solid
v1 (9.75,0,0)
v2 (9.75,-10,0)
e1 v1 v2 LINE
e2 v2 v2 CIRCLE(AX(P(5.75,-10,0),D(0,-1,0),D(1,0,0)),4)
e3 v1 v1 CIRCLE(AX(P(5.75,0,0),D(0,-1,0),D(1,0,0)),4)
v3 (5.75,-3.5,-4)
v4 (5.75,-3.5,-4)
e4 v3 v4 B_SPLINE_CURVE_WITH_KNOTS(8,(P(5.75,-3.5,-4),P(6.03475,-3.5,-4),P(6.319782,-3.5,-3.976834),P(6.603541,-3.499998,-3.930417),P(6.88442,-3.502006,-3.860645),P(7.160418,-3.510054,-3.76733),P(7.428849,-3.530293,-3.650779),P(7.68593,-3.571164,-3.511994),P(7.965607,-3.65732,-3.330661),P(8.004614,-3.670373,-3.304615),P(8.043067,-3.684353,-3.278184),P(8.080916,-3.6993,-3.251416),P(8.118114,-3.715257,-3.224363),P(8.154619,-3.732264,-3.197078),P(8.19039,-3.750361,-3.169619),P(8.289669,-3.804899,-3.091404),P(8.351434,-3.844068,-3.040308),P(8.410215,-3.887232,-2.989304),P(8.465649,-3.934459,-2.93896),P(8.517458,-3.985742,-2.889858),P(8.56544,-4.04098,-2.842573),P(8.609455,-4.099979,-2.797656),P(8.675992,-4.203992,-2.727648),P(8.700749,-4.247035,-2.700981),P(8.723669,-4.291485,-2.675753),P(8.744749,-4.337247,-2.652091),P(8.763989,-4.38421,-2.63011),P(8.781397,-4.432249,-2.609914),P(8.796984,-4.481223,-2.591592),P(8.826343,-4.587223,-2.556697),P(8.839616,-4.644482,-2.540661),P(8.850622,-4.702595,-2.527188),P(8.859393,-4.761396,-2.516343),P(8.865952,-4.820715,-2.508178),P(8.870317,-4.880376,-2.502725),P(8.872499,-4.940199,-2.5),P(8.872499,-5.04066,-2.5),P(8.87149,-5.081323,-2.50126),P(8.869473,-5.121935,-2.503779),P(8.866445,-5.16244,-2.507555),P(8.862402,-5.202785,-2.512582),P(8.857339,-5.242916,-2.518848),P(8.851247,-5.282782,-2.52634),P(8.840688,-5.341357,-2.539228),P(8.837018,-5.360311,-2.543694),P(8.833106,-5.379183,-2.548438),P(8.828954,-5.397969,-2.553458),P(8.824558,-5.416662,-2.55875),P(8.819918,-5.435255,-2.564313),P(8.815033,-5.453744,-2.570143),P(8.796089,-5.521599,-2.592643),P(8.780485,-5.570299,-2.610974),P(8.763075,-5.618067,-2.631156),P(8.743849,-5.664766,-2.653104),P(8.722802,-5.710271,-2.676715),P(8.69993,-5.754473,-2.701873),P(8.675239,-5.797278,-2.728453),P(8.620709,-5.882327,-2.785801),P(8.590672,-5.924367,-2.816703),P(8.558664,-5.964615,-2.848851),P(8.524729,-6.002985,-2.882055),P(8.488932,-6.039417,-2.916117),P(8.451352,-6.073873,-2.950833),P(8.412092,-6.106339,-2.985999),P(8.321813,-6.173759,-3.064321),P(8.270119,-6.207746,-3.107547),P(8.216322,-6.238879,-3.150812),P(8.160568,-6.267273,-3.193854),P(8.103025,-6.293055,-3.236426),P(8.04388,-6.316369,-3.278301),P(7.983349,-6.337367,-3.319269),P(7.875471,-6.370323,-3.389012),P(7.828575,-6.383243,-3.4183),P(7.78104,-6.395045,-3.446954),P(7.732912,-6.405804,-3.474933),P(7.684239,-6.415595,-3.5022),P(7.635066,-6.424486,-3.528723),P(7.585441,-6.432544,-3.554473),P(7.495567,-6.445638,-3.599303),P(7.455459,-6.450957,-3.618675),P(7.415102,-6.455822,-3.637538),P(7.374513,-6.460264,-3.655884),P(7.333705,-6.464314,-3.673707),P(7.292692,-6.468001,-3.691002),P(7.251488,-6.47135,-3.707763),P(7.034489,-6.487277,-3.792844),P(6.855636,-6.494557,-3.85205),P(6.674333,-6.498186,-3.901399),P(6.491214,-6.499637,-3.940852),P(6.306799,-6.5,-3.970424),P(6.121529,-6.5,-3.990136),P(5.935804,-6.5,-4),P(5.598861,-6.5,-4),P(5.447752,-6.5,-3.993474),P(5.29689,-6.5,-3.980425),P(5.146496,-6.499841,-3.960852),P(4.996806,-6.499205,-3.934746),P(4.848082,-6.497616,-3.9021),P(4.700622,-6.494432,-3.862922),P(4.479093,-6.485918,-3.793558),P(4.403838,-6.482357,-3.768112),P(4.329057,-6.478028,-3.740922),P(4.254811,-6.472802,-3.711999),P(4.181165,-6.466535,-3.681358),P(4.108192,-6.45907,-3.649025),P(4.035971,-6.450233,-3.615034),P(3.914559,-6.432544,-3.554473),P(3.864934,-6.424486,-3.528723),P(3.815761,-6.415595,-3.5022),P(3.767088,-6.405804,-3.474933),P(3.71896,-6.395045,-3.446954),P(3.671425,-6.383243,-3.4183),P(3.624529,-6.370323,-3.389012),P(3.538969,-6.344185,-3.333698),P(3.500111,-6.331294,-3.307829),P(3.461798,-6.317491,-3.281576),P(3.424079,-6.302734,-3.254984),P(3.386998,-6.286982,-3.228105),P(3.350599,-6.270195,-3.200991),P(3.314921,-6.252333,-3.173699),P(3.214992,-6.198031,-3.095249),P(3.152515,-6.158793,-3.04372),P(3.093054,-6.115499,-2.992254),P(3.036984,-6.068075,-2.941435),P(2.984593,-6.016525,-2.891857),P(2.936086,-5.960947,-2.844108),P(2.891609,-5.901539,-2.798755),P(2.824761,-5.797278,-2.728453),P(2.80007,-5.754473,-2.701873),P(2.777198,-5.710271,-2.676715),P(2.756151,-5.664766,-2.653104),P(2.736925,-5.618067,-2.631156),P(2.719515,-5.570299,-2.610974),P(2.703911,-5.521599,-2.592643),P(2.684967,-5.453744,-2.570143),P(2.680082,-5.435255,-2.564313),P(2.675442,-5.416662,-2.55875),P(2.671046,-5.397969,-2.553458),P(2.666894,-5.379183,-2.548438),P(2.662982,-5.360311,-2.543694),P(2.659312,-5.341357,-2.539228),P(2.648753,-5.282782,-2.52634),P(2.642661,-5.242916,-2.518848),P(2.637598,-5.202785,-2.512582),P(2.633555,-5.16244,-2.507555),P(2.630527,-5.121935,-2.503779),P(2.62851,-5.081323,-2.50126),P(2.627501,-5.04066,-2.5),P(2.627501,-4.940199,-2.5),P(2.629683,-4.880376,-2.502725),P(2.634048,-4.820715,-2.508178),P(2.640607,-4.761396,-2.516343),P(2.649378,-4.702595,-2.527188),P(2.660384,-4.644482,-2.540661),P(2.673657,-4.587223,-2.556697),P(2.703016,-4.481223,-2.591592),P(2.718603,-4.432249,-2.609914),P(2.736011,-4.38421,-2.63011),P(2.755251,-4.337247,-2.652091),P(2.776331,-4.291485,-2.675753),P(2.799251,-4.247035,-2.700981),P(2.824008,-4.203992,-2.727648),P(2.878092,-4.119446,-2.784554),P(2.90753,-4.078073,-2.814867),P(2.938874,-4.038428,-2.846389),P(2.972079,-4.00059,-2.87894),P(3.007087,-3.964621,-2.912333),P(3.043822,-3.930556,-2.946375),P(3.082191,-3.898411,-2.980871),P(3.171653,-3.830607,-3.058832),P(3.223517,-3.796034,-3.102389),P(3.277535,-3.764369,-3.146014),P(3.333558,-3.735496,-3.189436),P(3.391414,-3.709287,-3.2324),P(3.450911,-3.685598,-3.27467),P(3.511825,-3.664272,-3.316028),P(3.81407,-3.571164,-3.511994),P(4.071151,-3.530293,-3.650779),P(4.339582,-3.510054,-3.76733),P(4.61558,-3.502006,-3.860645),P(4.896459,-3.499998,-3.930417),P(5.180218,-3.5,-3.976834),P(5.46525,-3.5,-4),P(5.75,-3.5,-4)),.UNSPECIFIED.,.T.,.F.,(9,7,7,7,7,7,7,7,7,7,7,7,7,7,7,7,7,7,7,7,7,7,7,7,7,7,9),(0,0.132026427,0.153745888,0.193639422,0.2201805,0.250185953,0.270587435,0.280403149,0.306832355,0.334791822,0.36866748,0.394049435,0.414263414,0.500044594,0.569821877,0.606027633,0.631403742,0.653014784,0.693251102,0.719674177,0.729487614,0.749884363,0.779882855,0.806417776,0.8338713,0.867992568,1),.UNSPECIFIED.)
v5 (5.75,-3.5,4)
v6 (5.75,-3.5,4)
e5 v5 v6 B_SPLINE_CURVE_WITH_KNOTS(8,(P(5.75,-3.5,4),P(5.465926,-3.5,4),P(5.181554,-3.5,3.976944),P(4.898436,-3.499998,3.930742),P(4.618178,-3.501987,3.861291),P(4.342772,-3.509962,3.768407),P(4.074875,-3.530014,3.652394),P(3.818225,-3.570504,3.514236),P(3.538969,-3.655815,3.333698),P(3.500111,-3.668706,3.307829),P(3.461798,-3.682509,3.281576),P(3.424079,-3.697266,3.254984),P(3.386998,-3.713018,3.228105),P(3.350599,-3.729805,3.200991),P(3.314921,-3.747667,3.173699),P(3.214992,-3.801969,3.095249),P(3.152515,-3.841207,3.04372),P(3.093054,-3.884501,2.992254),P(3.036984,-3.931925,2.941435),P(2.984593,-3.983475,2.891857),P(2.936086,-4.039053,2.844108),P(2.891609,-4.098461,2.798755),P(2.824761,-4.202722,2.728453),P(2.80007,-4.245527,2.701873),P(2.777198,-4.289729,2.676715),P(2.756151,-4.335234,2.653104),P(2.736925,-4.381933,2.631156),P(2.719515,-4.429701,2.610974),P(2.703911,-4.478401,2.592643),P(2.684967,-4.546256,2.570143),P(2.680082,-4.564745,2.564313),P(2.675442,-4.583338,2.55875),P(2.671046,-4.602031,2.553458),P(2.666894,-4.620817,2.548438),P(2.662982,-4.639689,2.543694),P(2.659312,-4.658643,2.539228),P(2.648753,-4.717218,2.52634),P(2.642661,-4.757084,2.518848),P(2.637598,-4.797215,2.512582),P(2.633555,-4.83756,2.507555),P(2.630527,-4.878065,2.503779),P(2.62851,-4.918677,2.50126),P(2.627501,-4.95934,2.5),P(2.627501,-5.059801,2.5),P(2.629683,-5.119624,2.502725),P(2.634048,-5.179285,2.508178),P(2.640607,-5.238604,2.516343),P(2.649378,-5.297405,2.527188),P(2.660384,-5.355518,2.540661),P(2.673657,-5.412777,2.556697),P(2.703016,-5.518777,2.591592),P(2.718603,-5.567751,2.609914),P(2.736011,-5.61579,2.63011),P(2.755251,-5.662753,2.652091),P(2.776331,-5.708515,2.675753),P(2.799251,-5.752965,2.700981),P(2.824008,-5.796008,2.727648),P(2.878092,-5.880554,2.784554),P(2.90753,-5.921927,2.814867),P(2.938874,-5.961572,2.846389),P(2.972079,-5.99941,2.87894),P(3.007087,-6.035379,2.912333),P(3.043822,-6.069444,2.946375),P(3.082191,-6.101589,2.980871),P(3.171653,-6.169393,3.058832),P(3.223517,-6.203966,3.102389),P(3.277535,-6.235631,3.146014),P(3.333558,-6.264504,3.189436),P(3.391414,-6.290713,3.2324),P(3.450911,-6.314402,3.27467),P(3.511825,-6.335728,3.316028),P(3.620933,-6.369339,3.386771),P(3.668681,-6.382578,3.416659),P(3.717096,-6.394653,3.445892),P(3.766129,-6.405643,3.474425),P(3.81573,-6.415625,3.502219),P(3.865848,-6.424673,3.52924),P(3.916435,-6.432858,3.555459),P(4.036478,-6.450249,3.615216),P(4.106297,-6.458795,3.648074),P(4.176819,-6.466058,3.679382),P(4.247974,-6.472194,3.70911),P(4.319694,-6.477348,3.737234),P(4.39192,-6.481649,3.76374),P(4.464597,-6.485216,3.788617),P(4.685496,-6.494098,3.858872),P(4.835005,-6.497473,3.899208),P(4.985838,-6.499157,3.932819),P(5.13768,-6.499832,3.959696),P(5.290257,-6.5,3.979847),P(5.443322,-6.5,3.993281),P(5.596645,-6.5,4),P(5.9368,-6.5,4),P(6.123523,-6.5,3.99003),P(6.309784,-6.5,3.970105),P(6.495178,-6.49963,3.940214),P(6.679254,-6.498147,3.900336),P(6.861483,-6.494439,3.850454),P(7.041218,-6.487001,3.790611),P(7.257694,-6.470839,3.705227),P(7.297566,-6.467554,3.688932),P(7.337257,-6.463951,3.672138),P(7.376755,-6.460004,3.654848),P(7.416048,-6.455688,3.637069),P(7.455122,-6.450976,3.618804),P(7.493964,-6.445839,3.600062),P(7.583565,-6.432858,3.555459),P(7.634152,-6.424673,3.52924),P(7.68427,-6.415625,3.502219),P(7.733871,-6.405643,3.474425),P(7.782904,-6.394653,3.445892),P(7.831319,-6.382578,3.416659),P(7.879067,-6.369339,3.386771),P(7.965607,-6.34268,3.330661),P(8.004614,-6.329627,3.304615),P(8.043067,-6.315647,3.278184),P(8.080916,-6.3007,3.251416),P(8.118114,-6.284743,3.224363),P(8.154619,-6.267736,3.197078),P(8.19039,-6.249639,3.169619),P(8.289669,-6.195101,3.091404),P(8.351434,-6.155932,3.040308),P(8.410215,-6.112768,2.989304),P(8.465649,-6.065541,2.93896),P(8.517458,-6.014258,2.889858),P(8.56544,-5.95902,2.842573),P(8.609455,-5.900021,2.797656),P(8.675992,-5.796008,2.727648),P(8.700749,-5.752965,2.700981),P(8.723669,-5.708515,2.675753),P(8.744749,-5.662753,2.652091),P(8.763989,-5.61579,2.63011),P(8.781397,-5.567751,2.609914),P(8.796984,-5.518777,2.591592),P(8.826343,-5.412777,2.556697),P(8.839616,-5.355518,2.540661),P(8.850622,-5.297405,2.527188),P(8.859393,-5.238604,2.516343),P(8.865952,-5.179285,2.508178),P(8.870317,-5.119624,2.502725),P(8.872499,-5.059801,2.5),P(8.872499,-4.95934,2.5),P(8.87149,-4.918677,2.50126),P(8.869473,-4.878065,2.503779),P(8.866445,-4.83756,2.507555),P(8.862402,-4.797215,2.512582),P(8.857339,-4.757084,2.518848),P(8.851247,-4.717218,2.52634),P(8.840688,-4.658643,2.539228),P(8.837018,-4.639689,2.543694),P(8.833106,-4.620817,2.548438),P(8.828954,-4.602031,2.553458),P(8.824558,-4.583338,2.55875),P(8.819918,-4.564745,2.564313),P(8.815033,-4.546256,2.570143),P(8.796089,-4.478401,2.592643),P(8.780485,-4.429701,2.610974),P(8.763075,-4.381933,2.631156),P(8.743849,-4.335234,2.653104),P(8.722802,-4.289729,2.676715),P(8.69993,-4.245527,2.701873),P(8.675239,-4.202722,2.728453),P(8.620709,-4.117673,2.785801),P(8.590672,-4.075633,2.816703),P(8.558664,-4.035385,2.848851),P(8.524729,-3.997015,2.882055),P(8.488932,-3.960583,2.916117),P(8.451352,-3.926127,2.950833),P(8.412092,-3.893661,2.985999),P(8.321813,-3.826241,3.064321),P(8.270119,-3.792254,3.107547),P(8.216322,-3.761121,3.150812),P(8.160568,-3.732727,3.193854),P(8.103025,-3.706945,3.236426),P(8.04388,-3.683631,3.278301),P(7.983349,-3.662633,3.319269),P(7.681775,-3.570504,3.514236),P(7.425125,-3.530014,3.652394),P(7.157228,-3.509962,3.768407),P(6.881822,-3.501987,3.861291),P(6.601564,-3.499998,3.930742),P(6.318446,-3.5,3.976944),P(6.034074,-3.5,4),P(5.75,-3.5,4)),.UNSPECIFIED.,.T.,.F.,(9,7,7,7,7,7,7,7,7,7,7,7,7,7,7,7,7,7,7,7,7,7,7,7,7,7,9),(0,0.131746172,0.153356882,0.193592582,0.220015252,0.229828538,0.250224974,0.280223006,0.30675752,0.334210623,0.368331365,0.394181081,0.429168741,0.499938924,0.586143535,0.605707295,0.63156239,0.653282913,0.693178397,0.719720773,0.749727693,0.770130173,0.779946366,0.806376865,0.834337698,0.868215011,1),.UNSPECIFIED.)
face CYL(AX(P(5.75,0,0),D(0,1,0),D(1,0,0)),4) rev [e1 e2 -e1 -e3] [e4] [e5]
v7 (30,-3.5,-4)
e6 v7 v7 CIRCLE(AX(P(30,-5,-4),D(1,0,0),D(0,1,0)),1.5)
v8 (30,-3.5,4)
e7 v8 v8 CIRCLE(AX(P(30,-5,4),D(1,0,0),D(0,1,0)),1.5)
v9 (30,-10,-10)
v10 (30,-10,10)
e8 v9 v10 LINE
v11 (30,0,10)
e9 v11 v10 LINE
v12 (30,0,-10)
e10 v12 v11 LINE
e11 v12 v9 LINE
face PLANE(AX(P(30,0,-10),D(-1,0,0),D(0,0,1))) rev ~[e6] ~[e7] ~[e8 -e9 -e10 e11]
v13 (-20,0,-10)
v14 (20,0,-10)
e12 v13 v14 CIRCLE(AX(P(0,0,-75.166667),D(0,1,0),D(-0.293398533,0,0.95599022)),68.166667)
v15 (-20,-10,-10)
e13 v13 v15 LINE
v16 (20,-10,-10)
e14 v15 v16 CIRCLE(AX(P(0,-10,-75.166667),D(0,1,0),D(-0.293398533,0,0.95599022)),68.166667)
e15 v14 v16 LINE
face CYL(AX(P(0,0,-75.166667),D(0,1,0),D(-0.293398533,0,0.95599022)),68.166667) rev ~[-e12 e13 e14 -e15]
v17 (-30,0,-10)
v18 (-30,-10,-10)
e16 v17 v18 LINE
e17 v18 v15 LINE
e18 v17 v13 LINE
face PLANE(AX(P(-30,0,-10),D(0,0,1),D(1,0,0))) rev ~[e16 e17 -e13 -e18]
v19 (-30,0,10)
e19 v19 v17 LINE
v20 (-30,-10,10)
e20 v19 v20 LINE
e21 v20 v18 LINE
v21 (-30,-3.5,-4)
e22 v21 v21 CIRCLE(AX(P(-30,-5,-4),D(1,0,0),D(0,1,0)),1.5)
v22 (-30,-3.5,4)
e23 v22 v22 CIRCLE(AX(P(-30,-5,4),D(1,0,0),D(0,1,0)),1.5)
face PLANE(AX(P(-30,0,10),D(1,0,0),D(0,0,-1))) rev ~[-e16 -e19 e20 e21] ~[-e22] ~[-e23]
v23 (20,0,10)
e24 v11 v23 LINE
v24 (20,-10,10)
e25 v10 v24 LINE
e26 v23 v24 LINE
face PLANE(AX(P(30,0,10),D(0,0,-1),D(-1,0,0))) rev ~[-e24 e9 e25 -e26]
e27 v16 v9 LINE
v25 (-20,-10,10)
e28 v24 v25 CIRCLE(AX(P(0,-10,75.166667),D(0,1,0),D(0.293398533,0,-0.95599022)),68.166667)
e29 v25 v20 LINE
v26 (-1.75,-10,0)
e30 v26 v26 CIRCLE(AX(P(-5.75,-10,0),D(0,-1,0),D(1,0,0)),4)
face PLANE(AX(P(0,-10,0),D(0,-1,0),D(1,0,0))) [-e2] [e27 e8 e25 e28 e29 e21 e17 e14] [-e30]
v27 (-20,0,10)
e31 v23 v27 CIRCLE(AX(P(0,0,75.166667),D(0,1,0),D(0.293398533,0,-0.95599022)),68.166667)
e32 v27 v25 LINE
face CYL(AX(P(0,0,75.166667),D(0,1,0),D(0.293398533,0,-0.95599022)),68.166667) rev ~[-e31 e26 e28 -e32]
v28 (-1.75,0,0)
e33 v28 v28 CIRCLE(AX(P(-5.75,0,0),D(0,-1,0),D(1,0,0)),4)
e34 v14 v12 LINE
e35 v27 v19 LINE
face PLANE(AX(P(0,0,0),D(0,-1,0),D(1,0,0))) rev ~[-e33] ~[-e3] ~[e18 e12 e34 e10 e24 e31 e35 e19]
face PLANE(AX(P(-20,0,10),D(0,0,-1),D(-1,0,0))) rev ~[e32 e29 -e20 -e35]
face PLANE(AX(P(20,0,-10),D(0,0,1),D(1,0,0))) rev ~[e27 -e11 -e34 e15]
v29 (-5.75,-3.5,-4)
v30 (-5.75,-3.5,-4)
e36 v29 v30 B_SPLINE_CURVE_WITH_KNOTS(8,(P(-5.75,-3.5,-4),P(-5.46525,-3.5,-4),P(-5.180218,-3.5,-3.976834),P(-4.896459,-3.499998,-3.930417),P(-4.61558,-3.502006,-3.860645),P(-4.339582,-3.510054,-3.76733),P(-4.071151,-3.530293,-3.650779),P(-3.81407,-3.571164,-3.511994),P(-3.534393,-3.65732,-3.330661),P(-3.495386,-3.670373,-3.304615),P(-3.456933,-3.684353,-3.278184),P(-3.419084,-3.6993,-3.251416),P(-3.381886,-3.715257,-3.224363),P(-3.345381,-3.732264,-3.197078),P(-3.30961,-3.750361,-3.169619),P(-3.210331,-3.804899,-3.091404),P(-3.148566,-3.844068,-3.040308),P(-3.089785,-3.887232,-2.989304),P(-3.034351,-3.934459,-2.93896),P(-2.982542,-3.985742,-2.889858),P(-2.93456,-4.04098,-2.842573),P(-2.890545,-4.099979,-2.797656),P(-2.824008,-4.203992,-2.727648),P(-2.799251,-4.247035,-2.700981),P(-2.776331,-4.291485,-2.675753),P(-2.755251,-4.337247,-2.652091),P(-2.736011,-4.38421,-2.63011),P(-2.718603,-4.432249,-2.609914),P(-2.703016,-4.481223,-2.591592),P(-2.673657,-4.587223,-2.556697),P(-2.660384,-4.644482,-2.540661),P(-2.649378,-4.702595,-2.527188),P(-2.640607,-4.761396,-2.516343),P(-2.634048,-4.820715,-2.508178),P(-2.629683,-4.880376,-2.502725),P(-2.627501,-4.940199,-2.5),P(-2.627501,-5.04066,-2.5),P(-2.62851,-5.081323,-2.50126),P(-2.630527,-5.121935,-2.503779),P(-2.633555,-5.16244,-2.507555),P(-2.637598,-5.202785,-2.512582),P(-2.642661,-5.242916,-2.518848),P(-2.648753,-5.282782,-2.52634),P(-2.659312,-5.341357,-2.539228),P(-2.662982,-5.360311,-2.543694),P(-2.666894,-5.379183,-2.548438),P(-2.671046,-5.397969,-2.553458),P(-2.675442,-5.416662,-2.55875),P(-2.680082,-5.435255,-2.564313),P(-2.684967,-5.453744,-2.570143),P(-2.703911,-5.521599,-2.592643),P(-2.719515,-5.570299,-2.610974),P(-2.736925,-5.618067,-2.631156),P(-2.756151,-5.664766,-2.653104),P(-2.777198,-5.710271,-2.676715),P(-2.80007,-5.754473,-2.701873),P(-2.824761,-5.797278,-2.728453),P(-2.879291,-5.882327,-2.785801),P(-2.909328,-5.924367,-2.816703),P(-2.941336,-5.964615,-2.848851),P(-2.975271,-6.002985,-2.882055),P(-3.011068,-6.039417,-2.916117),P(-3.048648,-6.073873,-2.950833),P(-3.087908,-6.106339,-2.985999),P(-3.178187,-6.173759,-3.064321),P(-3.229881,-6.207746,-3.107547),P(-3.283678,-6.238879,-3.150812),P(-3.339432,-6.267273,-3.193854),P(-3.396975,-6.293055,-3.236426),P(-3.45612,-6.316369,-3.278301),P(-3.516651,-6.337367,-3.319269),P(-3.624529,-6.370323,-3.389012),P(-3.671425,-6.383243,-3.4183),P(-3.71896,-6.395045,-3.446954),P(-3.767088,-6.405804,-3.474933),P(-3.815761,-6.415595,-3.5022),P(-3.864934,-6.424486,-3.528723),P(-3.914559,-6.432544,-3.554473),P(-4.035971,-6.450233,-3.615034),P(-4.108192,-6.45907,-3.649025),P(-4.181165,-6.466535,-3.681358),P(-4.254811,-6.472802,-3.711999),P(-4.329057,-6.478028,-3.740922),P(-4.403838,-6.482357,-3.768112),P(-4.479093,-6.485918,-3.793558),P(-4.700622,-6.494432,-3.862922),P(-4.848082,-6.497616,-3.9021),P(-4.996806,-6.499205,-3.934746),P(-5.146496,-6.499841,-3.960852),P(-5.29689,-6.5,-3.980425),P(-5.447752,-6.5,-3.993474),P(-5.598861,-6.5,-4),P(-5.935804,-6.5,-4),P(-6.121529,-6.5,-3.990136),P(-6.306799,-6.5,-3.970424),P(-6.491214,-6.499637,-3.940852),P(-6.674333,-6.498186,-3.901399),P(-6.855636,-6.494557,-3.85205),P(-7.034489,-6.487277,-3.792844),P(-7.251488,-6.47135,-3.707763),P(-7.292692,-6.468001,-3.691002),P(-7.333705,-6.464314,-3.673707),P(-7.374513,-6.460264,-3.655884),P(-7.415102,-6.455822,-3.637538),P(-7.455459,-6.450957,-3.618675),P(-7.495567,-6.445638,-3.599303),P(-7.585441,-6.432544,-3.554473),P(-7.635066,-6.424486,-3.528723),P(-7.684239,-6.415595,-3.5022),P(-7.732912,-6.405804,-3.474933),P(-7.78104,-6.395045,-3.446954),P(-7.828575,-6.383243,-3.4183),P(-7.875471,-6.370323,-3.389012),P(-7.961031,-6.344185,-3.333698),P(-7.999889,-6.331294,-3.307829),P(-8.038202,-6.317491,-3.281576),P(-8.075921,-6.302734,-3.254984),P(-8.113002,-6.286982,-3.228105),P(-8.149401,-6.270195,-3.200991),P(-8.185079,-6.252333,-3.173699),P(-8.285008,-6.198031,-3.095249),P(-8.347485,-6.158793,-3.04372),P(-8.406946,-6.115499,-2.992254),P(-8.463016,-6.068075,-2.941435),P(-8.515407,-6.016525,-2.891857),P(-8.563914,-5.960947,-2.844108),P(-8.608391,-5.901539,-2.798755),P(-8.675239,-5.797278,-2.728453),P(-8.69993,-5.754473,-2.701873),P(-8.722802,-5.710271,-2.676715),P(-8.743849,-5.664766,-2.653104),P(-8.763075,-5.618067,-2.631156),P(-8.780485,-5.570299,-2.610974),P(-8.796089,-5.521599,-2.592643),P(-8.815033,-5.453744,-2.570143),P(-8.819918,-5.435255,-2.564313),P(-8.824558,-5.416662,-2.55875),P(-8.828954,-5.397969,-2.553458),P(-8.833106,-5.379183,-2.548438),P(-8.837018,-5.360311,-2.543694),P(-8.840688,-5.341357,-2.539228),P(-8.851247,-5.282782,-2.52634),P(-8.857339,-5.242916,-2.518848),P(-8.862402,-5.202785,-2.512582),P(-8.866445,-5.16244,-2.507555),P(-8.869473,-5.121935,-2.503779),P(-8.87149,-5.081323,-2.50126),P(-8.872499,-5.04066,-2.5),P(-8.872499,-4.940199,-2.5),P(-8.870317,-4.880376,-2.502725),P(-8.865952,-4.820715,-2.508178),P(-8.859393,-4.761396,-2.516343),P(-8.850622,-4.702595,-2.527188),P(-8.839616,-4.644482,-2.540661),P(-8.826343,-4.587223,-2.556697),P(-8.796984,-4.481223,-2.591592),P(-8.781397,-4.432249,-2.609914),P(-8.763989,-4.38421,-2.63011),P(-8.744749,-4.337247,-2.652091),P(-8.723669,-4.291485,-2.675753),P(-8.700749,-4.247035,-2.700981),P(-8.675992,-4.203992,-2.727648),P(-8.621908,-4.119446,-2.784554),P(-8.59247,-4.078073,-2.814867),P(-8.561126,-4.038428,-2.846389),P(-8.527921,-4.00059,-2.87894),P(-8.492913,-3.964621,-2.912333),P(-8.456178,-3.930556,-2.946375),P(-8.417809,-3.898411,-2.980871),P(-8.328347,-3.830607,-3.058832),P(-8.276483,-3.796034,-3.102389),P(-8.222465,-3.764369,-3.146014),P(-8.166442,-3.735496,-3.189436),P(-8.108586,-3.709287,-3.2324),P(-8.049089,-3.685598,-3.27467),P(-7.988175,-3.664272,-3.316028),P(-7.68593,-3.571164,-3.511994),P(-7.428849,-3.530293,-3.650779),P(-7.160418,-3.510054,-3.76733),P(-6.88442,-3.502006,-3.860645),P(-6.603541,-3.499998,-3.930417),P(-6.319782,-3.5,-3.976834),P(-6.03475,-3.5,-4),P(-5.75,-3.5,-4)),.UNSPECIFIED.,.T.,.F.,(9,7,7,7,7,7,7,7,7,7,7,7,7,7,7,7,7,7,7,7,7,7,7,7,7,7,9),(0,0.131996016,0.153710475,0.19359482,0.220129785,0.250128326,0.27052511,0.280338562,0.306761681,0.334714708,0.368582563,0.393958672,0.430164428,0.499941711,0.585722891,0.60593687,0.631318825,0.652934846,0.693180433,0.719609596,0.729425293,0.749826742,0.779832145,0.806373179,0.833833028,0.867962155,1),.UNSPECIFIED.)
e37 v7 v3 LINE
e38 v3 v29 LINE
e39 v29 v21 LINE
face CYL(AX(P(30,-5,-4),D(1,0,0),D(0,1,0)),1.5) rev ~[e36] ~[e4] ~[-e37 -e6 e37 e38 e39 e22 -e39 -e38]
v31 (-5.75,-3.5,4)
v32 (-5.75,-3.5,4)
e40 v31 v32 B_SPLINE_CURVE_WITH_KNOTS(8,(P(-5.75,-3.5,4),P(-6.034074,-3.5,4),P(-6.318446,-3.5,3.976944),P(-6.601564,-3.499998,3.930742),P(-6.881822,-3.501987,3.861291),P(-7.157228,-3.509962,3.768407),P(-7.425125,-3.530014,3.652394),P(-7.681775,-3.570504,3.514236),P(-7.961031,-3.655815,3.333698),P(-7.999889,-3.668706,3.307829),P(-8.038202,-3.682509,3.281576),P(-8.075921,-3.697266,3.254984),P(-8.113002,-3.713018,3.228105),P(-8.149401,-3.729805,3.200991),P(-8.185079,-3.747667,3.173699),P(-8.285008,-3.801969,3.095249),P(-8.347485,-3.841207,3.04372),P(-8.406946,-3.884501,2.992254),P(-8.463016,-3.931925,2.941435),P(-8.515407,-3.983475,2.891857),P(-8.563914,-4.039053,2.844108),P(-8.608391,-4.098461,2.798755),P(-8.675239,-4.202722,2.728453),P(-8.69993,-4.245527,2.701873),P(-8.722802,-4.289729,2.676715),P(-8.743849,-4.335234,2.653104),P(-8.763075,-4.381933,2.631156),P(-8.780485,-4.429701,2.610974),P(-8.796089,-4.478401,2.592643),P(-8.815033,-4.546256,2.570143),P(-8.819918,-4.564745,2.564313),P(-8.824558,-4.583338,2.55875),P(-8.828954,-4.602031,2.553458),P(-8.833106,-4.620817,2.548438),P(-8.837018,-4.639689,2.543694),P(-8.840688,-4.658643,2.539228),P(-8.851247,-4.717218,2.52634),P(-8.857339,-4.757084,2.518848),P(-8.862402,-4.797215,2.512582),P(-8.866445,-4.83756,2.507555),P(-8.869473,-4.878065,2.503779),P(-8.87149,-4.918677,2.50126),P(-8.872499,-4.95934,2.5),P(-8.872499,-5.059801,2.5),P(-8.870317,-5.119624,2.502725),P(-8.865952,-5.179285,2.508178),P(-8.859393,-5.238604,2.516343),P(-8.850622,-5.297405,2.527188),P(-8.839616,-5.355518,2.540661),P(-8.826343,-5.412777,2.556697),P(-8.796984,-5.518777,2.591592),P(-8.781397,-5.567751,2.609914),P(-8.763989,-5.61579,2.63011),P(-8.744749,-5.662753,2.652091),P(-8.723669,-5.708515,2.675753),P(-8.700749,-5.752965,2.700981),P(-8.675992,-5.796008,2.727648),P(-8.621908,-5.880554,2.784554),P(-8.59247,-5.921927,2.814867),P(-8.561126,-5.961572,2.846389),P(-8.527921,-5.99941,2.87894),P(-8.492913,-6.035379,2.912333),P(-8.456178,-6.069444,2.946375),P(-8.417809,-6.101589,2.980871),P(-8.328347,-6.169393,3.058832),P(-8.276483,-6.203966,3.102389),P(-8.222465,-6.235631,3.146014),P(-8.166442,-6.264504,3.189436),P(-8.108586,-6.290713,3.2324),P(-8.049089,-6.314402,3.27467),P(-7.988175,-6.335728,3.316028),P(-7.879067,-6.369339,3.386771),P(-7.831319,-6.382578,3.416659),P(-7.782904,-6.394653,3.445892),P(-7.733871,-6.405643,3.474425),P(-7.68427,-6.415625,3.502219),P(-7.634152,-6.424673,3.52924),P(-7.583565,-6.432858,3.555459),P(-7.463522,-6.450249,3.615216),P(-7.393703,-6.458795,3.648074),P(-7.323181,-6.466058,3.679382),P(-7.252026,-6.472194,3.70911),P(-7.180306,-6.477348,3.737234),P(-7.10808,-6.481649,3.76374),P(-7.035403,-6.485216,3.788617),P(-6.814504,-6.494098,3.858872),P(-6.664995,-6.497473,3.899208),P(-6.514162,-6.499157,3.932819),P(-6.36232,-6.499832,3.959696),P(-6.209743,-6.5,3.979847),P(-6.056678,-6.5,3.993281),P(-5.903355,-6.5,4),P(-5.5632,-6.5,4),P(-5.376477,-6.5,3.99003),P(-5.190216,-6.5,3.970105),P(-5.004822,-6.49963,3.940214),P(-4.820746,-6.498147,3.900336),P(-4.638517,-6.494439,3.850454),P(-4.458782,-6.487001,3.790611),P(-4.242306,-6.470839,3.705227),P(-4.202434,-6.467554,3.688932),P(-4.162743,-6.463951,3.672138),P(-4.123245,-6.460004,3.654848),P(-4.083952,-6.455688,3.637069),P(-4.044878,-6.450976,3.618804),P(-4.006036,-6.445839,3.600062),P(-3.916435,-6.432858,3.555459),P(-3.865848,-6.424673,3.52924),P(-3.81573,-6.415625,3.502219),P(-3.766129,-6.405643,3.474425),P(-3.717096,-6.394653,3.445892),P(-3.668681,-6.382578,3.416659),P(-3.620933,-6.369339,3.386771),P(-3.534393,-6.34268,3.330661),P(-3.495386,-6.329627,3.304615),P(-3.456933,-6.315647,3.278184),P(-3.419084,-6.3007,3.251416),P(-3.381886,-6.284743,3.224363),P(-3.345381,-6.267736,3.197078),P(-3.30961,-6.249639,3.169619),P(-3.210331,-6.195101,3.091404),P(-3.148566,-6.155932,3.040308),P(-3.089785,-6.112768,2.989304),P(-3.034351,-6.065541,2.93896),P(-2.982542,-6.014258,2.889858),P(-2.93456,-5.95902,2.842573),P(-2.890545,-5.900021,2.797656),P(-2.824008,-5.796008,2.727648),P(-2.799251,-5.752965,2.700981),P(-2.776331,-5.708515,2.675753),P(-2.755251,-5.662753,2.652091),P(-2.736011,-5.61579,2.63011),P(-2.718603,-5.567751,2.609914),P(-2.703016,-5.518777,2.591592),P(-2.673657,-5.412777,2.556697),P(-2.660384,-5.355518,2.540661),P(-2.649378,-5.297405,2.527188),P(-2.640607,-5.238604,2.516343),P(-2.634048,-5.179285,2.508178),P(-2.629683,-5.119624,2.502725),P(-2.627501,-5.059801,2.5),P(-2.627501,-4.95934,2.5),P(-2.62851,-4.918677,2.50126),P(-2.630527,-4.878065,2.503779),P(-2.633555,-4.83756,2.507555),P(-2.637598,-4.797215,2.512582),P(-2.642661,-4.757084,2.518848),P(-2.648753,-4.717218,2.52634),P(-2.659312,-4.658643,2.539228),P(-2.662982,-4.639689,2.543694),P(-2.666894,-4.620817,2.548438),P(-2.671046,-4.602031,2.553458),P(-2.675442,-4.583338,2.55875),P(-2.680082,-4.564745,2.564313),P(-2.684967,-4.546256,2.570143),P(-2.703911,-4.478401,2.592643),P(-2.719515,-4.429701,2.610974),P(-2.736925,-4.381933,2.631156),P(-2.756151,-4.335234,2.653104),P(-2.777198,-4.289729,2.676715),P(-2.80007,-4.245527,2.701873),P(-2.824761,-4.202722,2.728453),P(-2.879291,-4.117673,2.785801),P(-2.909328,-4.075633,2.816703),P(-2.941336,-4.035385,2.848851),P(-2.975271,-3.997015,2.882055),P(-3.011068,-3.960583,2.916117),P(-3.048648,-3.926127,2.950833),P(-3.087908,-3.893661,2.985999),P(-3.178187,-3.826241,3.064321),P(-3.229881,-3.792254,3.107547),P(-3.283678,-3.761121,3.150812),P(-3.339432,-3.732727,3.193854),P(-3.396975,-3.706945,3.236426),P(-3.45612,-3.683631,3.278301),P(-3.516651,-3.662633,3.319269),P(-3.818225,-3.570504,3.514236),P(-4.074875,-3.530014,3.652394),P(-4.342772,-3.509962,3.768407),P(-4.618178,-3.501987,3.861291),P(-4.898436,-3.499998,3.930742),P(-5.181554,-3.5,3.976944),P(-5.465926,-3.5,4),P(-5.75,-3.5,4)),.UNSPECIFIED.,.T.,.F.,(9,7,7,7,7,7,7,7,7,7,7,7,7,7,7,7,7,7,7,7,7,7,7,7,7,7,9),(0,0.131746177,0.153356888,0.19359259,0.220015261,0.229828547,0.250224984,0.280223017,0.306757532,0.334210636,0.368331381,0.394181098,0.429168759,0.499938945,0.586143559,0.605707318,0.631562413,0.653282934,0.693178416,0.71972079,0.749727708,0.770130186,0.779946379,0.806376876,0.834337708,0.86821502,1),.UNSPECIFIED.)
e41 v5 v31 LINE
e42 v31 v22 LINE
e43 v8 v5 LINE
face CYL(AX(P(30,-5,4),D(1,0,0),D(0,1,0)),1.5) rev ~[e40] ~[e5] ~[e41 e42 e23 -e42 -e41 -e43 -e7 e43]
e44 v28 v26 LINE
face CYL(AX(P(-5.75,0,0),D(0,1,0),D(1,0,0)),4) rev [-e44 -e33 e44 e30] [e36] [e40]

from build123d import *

# Parameters (mm, degrees)
F0_R     = 4
F1_DEPTH = 10
F2_R     = 1.5
F3_DEPTH = 60


with BuildPart() as f1:
    # F0 (on Front) → F1 (new body)
    with BuildSketch(Plane.XZ):
        with BuildLine():
            Line((-30, 10), (-30, -10))
            Line((-30, -10), (-20, -10))
            ThreePointArc((-20, -10), (0, -7), (20, -10))
            Line((20, -10), (30, -10))
            Line((30, -10), (30, 10))
            Line((30, 10), (20, 10))
            ThreePointArc((20, 10), (0, 7), (-20, 10))
            Line((-20, 10), (-30, 10))
        make_face()
        with Locations((-5.75, 0)):
            Circle(F0_R, mode=Mode.SUBTRACT)
        with Locations((5.75, 0)):
            Circle(F0_R, mode=Mode.SUBTRACT)
    extrude(amount=F1_DEPTH)

    # F2 (on face) → F3 (cut)
    with BuildSketch(Plane.YZ.offset(30)):
        with Locations((-5, 4)):
            Circle(F2_R)
        with Locations((-5, -4)):
            Circle(F2_R)
    extrude(amount=-F3_DEPTH, mode=Mode.SUBTRACT)


solid = f1.part
